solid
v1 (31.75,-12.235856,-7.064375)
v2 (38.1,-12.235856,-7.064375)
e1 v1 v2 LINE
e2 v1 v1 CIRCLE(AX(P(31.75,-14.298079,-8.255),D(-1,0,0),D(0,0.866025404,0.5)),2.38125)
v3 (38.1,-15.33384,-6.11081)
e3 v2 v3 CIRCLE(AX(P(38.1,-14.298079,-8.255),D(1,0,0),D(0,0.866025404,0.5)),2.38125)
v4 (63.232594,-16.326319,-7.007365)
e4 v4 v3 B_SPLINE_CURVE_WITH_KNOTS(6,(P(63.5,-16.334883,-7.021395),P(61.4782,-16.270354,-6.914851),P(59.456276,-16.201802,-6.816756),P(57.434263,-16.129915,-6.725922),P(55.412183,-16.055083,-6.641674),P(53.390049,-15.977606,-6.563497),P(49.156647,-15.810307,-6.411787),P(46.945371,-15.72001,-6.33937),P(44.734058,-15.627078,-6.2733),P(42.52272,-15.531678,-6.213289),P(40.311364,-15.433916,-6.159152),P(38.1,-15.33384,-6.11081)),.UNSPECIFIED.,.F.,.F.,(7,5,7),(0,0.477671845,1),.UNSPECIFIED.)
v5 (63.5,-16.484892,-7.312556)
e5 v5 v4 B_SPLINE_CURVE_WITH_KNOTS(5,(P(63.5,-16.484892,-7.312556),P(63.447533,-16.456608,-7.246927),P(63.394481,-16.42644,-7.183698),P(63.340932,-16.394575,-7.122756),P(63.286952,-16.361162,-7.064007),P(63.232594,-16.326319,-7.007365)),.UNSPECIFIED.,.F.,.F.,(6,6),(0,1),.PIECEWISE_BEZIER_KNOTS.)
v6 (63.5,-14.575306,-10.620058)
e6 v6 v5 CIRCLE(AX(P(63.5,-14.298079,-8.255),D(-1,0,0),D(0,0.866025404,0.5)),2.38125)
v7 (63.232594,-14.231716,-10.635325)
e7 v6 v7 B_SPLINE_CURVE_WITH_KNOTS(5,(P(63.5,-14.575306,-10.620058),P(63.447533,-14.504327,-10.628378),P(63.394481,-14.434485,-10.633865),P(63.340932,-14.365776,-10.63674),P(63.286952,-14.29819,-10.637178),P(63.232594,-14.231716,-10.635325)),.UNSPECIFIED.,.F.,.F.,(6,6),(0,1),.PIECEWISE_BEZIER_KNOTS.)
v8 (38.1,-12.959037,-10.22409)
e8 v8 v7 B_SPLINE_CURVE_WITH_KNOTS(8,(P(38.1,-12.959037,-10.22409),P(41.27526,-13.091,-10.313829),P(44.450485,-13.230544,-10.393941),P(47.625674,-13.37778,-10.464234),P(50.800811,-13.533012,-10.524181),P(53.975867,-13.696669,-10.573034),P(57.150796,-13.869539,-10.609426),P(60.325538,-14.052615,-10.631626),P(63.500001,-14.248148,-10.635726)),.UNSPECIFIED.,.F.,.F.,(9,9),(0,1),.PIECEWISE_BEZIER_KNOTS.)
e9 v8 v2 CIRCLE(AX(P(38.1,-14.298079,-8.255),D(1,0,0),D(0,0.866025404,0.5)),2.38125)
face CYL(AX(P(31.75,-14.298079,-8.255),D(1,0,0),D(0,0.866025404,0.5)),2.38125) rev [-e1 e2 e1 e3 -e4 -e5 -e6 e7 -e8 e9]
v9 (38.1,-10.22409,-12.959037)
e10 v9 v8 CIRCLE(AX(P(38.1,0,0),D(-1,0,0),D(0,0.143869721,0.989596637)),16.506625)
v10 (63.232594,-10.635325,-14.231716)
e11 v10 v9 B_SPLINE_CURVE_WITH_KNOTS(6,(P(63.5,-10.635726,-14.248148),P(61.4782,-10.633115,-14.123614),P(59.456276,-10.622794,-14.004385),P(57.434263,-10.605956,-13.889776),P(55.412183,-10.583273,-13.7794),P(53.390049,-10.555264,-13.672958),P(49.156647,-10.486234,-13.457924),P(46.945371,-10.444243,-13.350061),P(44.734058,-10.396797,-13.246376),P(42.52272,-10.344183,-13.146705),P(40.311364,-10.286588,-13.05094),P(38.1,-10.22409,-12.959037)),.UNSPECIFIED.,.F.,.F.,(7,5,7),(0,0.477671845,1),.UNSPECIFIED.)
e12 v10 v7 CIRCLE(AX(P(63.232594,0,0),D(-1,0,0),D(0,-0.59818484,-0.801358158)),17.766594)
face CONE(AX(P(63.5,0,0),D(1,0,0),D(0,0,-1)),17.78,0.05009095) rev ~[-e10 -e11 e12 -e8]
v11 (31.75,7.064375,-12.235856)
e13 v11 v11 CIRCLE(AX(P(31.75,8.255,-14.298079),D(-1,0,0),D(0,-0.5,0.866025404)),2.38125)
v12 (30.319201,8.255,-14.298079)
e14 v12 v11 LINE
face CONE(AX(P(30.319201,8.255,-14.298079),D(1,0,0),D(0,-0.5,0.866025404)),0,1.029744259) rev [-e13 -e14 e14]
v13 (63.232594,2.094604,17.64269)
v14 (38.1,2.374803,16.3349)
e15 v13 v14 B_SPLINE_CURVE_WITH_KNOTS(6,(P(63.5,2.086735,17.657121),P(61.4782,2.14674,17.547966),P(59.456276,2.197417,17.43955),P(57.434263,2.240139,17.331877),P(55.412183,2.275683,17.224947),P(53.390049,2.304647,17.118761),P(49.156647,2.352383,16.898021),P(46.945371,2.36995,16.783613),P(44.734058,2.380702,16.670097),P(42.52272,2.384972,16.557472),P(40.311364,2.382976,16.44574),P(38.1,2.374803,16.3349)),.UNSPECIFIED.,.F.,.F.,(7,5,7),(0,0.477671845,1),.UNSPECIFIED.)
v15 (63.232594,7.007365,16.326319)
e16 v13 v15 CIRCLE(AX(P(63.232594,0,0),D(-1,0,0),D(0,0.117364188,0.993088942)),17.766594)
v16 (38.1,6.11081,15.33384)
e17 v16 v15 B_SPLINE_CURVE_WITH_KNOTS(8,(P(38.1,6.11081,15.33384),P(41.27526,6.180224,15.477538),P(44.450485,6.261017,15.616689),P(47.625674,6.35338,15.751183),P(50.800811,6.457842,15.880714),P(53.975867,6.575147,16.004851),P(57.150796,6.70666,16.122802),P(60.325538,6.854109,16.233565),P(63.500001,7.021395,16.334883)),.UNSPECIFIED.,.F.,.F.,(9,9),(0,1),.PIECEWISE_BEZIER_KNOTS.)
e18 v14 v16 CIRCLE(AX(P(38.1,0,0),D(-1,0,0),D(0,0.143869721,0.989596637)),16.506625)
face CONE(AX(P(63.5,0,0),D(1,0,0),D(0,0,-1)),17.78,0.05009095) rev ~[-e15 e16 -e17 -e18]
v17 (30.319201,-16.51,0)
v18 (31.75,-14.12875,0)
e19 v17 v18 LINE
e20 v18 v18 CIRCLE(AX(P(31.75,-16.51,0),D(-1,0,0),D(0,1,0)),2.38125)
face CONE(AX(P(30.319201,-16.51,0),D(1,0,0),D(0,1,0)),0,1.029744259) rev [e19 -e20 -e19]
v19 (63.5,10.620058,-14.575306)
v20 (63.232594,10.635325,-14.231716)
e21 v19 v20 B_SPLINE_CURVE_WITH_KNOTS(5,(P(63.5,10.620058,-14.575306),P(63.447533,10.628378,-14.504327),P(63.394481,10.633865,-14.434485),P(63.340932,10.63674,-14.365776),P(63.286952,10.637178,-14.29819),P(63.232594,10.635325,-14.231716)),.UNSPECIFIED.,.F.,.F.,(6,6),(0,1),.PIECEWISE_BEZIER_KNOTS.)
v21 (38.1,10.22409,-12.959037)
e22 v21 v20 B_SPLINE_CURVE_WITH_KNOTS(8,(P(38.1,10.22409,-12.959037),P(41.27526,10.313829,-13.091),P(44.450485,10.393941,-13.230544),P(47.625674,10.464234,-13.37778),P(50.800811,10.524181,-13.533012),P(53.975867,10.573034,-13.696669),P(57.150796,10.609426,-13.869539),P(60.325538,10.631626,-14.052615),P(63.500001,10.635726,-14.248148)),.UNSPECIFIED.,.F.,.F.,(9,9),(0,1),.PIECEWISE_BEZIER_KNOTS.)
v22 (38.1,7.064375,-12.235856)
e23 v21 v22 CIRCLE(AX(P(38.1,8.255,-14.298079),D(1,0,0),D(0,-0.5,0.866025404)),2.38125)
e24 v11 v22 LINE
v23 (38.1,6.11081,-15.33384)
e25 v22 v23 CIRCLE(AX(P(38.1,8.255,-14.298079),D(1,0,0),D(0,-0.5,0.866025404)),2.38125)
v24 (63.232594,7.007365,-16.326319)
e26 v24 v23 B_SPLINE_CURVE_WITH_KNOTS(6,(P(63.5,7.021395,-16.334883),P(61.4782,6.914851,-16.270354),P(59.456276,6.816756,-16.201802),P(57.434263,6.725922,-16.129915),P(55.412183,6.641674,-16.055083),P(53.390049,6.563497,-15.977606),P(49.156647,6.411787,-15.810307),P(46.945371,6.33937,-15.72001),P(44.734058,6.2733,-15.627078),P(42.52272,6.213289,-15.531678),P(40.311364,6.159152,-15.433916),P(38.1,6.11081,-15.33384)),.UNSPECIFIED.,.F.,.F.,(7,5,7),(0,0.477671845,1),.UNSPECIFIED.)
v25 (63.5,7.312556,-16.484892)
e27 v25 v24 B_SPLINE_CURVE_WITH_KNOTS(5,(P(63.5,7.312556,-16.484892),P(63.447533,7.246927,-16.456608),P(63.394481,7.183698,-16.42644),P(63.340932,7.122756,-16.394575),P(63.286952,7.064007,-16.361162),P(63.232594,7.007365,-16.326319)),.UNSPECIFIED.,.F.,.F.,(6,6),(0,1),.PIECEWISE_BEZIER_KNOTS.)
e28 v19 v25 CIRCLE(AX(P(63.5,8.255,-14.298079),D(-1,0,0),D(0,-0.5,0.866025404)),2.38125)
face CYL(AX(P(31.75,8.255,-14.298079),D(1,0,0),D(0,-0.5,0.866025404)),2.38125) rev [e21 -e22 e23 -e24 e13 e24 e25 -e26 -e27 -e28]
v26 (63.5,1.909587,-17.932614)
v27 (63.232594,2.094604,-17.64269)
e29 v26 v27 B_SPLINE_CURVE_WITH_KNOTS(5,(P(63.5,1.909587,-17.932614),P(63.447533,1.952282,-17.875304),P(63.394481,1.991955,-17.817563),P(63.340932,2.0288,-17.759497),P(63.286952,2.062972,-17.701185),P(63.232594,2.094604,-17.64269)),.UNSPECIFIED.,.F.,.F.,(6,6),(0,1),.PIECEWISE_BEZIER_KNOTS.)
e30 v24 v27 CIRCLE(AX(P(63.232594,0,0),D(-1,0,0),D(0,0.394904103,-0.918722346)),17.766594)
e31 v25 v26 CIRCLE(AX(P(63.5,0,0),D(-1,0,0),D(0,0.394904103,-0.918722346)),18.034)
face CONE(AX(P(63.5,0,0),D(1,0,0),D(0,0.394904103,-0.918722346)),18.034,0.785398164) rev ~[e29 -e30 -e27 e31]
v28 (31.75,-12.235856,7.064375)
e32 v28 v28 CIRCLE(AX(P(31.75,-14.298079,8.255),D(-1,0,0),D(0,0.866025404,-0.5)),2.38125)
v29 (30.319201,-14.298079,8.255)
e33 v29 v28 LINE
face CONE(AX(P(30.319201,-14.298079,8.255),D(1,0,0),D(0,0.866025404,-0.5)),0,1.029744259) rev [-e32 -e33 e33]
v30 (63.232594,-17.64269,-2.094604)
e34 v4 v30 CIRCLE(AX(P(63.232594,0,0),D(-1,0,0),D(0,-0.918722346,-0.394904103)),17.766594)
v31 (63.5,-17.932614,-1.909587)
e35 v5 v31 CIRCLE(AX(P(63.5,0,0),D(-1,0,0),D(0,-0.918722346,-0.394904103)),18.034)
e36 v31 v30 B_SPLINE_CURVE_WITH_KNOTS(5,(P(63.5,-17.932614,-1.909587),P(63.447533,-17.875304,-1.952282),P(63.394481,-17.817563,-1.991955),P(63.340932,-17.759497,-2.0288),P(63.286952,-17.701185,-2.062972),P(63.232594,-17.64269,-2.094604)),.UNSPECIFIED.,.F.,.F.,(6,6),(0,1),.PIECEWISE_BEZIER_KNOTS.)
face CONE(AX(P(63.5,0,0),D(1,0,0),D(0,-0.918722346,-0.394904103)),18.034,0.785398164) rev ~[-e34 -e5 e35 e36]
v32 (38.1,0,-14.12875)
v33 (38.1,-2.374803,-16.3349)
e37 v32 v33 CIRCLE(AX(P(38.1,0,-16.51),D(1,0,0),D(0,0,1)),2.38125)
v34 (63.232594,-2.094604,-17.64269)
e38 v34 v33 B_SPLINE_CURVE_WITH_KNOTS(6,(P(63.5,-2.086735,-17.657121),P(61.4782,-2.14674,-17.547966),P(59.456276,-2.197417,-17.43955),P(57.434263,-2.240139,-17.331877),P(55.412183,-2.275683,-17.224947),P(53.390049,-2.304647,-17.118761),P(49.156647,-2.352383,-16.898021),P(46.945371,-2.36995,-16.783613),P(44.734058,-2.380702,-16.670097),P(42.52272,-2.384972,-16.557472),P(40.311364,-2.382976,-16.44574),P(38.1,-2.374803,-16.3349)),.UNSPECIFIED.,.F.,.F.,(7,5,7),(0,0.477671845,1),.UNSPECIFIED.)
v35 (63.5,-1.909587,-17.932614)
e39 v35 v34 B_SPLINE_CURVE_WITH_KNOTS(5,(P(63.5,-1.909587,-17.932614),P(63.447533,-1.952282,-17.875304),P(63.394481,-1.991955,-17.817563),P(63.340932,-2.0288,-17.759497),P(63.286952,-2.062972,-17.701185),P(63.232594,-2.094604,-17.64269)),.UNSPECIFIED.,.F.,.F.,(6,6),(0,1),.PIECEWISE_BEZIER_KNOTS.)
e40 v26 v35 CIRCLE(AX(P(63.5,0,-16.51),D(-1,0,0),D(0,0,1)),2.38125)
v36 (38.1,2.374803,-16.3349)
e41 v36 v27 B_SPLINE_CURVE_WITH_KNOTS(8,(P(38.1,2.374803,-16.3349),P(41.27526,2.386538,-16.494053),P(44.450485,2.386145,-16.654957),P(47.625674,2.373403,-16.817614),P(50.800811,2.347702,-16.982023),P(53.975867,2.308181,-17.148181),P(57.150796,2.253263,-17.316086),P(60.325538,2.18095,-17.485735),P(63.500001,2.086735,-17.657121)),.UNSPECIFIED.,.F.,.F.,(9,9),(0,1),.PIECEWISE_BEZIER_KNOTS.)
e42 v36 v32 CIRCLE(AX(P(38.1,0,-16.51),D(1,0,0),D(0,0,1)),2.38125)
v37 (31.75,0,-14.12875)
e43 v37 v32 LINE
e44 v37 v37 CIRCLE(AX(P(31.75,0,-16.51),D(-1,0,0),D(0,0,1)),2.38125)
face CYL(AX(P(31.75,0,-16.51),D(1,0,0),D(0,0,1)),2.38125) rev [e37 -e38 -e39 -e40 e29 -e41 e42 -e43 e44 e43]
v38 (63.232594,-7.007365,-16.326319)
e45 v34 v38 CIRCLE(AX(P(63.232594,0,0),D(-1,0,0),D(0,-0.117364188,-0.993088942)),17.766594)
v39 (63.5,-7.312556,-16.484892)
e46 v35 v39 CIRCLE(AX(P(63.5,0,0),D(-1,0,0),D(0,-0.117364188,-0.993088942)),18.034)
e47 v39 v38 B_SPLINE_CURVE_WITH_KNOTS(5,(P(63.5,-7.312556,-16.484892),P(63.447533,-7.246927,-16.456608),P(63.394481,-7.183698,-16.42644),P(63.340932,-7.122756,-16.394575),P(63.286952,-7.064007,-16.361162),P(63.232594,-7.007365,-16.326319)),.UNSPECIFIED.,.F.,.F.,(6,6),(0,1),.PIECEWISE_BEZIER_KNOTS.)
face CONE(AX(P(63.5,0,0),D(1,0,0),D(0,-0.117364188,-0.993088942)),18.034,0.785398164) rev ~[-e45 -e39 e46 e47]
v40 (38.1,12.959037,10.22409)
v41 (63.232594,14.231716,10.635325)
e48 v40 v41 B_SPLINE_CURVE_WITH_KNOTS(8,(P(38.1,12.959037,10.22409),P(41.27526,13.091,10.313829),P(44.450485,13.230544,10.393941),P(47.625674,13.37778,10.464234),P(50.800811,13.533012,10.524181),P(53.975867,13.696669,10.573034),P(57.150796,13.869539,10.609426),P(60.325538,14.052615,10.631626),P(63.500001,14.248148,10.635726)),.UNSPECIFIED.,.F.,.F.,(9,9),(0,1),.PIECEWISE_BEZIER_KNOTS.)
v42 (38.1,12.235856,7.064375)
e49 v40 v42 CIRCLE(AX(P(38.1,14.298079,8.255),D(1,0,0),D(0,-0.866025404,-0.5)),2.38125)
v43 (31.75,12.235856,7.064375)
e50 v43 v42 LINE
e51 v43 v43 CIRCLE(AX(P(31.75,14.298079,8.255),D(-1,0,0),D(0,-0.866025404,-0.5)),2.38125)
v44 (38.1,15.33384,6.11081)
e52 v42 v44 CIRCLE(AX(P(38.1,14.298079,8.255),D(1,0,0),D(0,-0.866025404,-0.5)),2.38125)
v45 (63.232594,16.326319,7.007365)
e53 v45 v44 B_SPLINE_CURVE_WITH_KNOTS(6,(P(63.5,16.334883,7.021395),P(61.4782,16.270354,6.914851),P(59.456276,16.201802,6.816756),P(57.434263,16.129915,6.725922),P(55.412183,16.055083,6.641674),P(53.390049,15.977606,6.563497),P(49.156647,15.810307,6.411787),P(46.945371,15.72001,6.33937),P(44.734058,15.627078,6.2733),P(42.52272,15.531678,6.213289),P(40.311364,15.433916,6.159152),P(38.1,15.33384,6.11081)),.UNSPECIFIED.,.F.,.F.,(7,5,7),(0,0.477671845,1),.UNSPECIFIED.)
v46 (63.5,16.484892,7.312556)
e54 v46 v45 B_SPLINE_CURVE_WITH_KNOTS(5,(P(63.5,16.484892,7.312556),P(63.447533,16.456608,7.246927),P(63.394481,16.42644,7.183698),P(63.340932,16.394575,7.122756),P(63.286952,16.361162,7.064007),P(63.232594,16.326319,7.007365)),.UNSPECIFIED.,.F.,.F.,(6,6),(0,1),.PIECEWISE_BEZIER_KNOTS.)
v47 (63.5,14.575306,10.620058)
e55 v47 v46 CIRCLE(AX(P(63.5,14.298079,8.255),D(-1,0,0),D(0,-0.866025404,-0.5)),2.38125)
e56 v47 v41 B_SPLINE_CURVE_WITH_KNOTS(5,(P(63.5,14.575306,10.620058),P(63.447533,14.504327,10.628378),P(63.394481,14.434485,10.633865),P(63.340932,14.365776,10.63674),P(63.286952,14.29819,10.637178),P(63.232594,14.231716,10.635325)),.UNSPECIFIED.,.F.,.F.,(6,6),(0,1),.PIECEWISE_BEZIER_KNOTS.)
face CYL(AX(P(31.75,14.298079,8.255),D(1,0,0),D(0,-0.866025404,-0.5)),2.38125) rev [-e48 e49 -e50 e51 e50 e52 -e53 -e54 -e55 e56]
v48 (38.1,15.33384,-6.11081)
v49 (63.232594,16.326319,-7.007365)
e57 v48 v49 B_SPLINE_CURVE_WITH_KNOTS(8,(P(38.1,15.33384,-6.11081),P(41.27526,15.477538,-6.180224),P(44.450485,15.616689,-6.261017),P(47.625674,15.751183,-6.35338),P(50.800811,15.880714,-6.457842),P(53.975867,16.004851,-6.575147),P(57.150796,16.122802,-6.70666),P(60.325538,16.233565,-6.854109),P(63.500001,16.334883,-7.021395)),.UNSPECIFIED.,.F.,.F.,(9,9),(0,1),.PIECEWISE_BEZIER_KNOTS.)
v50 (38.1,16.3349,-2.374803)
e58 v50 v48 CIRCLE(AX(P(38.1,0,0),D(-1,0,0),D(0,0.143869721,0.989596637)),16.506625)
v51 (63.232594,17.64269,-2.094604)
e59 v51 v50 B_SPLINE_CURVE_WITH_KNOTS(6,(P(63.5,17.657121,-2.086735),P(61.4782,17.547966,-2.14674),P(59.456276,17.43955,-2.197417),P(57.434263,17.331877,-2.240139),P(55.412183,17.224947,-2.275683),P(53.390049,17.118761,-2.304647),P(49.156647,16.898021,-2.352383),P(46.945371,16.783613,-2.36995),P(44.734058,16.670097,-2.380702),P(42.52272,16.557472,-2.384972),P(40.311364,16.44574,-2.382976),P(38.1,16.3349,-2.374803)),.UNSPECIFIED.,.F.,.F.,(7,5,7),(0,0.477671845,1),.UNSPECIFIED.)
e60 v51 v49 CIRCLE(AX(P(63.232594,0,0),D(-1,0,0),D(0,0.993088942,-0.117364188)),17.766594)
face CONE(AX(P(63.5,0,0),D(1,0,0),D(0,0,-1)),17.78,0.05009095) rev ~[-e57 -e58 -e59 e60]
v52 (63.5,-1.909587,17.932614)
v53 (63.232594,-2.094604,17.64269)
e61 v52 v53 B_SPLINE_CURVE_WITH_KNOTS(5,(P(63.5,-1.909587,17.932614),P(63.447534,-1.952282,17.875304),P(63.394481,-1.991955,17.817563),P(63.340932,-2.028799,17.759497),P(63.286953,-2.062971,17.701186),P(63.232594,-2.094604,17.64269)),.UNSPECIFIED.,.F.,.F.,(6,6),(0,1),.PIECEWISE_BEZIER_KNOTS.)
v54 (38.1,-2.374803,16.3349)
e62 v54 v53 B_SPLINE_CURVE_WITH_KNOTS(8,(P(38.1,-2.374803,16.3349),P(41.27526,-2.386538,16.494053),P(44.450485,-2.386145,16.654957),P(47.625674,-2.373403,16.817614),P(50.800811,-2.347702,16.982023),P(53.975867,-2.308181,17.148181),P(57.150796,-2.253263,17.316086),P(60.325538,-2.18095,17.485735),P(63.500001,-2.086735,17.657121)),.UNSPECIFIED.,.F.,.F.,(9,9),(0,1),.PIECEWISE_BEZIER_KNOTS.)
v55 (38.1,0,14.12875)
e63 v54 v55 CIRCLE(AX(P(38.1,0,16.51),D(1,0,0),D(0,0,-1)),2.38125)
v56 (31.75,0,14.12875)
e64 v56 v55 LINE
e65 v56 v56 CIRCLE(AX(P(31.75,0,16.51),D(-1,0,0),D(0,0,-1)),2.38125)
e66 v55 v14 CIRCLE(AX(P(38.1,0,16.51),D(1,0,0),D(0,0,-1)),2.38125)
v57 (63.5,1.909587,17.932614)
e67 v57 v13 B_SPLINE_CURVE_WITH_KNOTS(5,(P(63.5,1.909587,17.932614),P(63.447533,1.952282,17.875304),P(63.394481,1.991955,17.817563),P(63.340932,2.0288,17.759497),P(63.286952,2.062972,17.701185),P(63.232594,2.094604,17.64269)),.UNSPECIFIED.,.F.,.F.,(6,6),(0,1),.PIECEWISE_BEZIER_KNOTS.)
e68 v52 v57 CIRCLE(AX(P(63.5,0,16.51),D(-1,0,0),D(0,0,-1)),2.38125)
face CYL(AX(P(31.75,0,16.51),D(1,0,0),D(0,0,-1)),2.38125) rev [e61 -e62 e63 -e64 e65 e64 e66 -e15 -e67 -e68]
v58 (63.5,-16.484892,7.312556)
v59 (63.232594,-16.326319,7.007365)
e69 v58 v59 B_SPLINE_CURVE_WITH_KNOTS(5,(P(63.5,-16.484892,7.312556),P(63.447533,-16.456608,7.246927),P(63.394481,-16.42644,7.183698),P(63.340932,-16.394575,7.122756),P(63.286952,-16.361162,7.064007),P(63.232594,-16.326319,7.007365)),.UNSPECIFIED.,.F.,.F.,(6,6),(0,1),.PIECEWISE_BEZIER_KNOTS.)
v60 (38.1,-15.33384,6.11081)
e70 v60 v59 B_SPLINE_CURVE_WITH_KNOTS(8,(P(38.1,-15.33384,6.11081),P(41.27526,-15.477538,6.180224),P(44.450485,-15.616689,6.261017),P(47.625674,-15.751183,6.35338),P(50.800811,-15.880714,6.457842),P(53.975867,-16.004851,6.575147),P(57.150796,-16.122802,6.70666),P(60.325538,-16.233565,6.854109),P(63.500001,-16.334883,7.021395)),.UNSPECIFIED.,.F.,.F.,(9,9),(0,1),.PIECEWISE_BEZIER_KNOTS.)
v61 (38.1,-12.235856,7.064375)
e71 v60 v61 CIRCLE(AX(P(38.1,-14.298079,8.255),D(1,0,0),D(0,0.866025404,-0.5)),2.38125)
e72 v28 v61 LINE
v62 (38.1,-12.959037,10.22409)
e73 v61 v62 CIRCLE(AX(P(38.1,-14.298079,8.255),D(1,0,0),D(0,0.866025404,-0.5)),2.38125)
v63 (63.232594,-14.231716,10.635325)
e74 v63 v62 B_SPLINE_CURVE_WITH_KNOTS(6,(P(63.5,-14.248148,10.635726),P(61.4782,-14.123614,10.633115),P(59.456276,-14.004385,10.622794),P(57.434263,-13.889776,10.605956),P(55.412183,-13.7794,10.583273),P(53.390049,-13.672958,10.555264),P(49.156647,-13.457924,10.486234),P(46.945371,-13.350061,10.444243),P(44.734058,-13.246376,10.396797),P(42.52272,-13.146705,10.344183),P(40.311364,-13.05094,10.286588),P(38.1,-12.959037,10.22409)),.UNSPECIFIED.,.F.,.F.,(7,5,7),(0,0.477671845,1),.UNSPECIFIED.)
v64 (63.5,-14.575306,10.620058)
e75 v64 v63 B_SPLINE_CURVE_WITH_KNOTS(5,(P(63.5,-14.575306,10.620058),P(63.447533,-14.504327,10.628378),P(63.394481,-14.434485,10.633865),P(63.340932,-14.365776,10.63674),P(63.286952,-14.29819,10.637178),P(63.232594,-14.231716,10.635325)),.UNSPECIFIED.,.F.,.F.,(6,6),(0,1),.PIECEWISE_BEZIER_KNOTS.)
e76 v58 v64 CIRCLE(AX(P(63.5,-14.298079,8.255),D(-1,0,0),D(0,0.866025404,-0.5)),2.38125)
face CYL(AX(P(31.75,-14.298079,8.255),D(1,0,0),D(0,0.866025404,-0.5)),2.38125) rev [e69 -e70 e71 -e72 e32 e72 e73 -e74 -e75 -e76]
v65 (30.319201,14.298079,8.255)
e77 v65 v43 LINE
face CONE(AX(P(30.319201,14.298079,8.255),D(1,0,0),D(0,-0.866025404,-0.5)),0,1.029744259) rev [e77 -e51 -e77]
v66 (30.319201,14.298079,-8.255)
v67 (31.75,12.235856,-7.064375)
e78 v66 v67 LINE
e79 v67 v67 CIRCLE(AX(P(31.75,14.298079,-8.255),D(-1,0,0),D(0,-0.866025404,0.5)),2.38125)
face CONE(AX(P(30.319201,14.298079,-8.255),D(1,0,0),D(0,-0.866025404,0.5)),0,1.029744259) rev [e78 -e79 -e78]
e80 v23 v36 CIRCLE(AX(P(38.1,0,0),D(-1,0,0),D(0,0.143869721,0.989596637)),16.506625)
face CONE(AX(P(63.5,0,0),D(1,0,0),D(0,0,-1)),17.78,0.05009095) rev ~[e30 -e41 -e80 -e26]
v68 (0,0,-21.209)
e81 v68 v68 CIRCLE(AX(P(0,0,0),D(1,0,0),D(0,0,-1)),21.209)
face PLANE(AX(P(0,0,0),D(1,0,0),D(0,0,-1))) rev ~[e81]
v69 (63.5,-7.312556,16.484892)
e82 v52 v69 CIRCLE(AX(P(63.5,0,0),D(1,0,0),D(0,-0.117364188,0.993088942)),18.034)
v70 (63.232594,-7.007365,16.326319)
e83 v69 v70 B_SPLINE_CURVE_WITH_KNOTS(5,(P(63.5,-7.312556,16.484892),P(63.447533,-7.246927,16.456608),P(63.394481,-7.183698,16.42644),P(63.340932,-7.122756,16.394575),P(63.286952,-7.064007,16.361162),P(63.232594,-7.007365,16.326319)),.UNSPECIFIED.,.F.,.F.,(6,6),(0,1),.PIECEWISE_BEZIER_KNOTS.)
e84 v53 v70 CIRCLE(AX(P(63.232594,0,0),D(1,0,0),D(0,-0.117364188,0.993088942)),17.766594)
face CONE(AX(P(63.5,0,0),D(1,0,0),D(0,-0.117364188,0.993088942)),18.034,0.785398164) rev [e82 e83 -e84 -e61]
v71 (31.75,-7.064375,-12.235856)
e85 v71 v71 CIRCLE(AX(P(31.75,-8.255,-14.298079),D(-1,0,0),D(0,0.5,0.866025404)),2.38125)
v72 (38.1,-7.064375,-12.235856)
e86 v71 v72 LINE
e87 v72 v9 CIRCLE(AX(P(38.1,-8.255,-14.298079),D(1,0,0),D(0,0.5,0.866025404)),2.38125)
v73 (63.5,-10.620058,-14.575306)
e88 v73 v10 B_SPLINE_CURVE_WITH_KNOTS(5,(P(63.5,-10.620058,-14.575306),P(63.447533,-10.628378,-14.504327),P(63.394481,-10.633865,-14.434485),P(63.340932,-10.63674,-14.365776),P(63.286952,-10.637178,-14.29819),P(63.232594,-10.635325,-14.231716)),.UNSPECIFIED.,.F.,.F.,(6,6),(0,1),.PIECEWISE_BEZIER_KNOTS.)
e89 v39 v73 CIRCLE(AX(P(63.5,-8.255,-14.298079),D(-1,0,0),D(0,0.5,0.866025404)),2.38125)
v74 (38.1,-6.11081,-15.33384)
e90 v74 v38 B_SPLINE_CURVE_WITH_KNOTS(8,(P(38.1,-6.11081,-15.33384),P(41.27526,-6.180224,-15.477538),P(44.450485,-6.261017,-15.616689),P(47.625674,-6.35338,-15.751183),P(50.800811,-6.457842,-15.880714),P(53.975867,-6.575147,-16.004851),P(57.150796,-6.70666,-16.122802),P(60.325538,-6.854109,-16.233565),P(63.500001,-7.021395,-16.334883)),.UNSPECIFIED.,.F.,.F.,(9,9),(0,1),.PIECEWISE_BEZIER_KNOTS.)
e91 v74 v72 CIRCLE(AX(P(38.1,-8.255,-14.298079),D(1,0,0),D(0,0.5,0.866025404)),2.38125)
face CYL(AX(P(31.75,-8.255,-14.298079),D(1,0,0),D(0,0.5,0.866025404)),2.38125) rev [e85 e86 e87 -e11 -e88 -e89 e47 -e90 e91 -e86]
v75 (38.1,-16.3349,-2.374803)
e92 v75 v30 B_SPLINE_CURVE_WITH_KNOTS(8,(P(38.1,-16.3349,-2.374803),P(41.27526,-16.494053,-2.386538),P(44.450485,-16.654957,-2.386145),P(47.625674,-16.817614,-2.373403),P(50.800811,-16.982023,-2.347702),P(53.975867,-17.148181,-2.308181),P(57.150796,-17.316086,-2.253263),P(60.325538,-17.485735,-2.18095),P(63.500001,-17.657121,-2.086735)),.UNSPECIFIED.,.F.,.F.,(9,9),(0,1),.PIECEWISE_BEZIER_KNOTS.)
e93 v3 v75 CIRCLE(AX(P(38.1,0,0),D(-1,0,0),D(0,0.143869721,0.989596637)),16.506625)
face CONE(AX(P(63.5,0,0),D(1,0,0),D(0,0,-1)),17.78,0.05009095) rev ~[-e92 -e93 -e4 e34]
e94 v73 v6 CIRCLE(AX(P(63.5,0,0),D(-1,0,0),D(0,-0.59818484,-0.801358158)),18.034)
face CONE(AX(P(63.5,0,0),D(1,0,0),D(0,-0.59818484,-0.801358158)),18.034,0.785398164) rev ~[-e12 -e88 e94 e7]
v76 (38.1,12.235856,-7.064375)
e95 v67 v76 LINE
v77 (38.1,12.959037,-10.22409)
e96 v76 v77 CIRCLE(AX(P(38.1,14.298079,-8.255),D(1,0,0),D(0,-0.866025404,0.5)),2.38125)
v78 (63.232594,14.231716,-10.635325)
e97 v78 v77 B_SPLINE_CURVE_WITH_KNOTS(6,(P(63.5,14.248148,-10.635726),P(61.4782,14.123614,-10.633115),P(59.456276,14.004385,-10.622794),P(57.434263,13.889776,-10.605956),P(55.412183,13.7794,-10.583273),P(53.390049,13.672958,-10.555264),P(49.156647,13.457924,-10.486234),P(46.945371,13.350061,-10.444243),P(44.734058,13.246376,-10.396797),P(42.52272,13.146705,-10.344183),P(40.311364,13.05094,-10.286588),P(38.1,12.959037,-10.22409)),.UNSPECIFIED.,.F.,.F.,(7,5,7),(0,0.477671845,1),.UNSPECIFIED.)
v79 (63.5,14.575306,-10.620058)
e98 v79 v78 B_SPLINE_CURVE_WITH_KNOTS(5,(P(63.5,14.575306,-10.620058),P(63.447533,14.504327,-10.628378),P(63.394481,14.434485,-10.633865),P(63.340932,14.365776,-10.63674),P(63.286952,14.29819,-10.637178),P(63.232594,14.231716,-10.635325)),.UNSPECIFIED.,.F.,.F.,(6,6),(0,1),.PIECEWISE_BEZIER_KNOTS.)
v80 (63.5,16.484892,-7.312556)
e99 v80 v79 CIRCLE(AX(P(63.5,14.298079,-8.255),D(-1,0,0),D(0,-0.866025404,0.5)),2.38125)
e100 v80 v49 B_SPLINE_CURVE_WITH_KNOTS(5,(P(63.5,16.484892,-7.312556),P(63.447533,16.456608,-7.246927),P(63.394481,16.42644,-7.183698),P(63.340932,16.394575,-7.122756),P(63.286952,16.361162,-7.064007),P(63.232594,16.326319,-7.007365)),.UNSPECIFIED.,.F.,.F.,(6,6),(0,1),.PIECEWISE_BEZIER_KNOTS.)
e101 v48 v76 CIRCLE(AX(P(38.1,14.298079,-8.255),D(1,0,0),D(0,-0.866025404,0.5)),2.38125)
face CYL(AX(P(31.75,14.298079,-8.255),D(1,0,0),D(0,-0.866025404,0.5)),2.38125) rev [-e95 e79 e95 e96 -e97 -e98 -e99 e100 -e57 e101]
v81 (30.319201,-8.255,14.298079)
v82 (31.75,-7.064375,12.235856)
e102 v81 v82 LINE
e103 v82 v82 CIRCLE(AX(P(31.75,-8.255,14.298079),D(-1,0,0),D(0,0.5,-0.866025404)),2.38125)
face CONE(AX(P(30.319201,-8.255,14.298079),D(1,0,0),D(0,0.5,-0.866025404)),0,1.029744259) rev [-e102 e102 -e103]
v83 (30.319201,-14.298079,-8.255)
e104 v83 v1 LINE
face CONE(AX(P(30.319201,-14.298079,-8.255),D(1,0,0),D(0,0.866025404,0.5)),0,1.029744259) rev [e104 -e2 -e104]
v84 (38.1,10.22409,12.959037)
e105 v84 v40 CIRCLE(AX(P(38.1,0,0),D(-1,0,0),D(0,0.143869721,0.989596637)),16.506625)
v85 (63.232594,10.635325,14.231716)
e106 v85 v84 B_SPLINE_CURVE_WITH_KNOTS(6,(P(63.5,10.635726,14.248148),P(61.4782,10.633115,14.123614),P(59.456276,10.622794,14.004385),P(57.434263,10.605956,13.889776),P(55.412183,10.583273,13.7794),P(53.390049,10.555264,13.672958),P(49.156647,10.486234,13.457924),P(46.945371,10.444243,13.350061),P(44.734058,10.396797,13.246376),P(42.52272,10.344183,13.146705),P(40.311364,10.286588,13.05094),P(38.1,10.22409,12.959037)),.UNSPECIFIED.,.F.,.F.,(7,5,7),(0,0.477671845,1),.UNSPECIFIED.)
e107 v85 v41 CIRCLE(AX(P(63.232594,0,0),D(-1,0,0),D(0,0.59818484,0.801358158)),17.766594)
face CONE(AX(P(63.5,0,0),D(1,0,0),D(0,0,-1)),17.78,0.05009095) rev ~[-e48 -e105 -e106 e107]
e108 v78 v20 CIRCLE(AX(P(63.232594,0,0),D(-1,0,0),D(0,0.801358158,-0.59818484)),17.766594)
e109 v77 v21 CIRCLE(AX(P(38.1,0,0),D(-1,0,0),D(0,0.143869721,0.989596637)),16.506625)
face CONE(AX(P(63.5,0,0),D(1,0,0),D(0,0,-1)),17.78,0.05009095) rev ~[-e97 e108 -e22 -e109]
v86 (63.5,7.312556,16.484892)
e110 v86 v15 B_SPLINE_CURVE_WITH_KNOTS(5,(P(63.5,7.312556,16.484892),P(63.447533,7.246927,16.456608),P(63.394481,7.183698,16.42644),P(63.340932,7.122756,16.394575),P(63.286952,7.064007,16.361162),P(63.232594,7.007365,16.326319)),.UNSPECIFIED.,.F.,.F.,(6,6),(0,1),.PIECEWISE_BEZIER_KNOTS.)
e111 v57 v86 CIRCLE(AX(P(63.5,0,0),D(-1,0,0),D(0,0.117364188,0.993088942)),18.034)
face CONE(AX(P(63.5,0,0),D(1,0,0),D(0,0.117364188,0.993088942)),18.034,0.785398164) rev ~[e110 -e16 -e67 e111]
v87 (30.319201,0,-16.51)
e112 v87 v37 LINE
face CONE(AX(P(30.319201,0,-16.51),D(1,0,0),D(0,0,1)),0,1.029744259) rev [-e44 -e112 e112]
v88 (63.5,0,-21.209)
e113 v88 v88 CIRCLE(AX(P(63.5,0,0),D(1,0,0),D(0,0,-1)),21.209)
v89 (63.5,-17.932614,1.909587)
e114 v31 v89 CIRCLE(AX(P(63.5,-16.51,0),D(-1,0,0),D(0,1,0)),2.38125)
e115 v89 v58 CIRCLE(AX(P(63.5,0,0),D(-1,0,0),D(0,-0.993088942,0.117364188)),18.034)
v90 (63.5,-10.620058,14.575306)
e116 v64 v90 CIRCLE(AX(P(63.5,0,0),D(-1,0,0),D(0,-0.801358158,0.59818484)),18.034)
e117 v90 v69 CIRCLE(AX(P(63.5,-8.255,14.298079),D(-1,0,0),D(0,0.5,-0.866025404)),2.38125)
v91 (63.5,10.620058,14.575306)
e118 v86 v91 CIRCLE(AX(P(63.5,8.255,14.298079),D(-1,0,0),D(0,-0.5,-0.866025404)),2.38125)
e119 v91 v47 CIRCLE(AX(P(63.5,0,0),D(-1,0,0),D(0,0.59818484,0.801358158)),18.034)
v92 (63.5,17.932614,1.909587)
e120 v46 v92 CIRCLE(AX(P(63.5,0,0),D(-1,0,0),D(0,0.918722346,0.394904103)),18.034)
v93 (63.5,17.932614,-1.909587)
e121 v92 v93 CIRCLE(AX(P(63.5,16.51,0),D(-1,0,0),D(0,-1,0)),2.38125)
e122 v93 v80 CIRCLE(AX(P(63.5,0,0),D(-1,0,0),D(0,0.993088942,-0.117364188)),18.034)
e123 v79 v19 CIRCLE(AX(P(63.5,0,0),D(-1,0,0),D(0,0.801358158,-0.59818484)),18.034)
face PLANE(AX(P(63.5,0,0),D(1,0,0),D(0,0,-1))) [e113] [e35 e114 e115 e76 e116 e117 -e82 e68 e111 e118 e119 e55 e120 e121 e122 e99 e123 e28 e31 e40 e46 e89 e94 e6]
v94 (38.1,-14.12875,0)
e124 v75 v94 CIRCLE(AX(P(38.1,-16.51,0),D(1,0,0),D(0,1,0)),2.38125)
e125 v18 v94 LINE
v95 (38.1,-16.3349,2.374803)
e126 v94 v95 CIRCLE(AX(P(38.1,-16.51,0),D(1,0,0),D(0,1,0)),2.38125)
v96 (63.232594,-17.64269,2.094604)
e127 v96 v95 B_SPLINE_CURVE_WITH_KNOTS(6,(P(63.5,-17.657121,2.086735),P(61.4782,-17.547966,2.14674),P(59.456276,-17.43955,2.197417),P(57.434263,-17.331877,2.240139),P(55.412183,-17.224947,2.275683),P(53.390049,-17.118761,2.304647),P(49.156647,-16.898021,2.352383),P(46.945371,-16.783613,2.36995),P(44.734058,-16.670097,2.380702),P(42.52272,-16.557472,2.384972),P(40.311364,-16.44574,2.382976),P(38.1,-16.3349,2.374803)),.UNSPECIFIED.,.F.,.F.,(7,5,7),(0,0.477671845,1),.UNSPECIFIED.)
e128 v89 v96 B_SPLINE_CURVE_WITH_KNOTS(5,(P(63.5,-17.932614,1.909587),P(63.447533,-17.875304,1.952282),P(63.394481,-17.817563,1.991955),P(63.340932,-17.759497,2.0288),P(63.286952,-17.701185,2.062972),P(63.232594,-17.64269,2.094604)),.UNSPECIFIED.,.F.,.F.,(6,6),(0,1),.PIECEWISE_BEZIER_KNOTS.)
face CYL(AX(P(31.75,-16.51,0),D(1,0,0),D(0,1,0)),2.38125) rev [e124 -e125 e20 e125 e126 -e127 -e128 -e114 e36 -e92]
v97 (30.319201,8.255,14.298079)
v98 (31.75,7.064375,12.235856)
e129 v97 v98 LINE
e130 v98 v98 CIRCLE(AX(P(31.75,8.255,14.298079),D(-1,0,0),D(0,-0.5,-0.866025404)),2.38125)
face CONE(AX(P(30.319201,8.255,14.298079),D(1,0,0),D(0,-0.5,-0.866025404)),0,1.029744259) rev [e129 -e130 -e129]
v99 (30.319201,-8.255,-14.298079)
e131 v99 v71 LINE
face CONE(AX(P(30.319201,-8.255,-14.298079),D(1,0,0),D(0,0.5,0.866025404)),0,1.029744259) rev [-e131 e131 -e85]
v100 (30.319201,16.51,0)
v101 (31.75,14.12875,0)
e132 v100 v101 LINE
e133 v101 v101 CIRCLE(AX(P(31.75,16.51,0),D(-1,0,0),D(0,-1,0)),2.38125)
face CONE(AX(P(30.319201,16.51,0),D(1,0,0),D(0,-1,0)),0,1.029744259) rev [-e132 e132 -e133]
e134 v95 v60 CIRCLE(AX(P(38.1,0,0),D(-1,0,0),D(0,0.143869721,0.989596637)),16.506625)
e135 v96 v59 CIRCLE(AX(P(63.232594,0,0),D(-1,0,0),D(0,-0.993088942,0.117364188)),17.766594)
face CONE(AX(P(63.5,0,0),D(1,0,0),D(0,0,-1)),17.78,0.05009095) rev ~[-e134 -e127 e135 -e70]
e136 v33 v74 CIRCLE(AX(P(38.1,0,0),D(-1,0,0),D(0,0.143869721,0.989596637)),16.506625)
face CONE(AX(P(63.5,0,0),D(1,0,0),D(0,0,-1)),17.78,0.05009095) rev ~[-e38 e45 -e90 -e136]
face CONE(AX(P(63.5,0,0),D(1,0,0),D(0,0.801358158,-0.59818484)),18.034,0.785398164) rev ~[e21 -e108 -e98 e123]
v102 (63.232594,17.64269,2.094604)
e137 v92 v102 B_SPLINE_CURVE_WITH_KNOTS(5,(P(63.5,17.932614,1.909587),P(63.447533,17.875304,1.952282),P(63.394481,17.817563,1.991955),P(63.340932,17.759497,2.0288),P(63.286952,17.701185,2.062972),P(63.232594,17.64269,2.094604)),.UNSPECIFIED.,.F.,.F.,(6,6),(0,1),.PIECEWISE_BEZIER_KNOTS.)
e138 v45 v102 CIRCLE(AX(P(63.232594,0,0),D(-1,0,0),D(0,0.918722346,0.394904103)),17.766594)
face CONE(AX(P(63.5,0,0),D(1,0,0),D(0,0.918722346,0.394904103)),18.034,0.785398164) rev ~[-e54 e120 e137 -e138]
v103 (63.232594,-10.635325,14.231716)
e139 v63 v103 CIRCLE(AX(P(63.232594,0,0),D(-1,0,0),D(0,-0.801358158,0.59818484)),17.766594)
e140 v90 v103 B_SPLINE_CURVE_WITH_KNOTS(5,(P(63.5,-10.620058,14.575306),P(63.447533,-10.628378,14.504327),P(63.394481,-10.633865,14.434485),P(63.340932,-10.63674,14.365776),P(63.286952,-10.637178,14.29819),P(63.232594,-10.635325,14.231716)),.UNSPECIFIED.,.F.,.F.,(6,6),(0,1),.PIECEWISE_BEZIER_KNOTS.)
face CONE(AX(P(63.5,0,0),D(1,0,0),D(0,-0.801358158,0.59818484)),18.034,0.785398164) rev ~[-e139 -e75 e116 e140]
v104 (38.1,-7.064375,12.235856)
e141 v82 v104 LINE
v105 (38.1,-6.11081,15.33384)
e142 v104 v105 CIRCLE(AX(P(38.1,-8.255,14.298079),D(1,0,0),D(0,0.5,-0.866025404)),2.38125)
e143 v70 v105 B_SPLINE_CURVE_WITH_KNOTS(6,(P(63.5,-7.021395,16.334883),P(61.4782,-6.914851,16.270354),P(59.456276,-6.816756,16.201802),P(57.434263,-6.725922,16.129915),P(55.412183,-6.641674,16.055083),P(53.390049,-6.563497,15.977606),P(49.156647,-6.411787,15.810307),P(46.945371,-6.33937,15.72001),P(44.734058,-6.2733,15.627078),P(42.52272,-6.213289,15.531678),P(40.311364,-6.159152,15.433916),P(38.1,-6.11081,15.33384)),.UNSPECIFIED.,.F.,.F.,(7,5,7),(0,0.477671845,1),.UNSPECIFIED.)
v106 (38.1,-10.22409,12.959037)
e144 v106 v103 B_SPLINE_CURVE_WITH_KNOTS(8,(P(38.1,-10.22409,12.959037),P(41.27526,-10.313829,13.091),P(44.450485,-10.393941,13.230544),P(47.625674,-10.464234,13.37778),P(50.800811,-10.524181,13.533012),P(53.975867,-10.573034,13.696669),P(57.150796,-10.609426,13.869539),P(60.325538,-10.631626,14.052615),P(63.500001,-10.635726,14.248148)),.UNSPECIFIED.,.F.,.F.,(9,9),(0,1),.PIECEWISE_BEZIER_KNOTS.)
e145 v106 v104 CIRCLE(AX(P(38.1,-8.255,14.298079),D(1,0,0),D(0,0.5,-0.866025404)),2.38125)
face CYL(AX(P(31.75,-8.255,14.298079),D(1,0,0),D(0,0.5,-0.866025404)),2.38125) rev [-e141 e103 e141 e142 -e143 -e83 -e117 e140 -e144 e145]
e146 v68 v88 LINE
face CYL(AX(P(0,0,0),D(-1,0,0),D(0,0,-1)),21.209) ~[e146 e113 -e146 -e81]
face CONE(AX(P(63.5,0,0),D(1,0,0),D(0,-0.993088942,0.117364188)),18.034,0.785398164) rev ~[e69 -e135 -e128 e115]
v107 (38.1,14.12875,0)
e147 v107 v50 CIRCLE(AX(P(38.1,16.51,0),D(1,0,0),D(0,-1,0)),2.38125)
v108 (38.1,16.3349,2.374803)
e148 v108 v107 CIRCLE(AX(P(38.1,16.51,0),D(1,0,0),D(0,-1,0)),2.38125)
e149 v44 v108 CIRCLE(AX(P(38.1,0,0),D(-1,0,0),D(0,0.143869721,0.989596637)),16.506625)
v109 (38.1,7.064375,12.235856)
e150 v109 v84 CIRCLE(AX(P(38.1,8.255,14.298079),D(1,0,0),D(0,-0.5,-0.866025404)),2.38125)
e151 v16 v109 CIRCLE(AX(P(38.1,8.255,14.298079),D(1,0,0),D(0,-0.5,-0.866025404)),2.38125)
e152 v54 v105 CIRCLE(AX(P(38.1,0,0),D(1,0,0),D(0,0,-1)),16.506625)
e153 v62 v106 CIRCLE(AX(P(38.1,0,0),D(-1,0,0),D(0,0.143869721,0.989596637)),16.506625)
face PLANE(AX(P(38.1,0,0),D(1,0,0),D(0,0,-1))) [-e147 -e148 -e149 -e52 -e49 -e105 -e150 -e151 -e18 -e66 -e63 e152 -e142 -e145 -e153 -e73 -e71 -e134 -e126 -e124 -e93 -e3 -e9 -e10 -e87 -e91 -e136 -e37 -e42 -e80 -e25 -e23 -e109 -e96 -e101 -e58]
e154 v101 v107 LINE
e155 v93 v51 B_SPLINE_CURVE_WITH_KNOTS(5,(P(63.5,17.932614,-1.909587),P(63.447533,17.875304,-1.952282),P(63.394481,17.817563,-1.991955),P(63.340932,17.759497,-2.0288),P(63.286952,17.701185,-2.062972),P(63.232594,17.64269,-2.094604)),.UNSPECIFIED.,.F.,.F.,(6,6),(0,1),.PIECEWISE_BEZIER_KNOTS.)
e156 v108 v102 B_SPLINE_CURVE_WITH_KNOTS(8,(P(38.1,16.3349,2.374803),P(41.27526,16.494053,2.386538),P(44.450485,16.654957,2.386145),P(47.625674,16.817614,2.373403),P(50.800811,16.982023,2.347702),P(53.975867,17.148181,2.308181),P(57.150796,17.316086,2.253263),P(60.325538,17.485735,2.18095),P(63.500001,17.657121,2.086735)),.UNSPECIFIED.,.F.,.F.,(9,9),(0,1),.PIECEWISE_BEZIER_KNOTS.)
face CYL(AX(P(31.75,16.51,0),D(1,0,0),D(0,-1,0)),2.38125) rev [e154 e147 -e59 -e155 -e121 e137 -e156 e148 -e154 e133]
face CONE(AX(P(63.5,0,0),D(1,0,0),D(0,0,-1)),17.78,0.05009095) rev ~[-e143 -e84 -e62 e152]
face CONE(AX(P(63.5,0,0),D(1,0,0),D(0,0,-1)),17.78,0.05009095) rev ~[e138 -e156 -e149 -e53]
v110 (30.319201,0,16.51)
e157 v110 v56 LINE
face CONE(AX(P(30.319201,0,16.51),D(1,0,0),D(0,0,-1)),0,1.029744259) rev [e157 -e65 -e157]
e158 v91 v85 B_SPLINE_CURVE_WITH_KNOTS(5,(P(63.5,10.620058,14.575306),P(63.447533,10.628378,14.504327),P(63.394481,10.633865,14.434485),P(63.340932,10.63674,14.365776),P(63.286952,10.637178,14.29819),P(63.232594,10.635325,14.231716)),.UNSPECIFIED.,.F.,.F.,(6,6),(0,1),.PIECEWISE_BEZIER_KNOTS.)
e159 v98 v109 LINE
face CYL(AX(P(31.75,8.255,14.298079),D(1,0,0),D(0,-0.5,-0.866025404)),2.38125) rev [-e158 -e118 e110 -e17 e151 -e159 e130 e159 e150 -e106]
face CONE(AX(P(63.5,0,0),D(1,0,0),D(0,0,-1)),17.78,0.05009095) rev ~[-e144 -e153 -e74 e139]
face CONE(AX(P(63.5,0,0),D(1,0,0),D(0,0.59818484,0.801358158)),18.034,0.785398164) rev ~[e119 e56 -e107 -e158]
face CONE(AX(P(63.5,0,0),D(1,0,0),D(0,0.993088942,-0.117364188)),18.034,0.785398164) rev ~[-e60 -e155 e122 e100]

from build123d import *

# Parameters (mm, degrees)
SKETCH1_R              = 21.209
EXTRUDE1_DEPTH         = 63.5
SKETCH2_R              = 17.78
EXTRUDE2_DEPTH         = 25.4
EXTRUDE2_DRAFT         = -2.87
CIRPATTERN1_COUNT      = 12
CHAMFER2_SIZE          = 0.254
CHAMFER2_SIZE2         = 0.267741651
CHAMFER2_EDGE_2_SIZE   = 0.254
CHAMFER2_EDGE_2_SIZE2  = 0.267741651
CHAMFER2_EDGE_3_SIZE   = 0.254
CHAMFER2_EDGE_3_SIZE2  = 0.267741651
CHAMFER2_EDGE_4_SIZE   = 0.254
CHAMFER2_EDGE_4_SIZE2  = 0.267741651
CHAMFER2_EDGE_5_SIZE   = 0.254
CHAMFER2_EDGE_5_SIZE2  = 0.267741651
CHAMFER2_EDGE_6_SIZE   = 0.254
CHAMFER2_EDGE_6_SIZE2  = 0.267741651
CHAMFER2_EDGE_7_SIZE   = 0.254
CHAMFER2_EDGE_7_SIZE2  = 0.267741651
CHAMFER2_EDGE_8_SIZE   = 0.254
CHAMFER2_EDGE_8_SIZE2  = 0.267741651
CHAMFER2_EDGE_9_SIZE   = 0.254
CHAMFER2_EDGE_9_SIZE2  = 0.267741651
CHAMFER2_EDGE_10_SIZE  = 0.254
CHAMFER2_EDGE_10_SIZE2 = 0.267741651
CHAMFER2_EDGE_11_SIZE  = 0.254
CHAMFER2_EDGE_11_SIZE2 = 0.267741651
CHAMFER2_EDGE_12_SIZE  = 0.254
CHAMFER2_EDGE_12_SIZE2 = 0.267741651


with BuildPart() as part:
    # Sketch1 → Extrude1 (new body)
    with BuildSketch(Plane(origin=(0, 0, 0), x_dir=(0, 0, -1), z_dir=(1, 0, 0))):
        Circle(SKETCH1_R)
    extrude(amount=EXTRUDE1_DEPTH)


with BuildPart() as extrude2_tool:
    # Sketch2 → Extrude2 (with draft: the straight prism first)
    with BuildSketch(Plane(origin=(63.5, 0, 0), x_dir=(0, 0, -1), z_dir=(1, 0, 0))):
        Circle(SKETCH2_R)
    extrude(amount=-EXTRUDE2_DEPTH)
    # Extrude2: the draft: its side faces are tilted about the plane it starts from
    extrude2_sides = [extrude2_tool.faces().sort_by_distance(p)[0] for p in [
        (50.8, 0, 17.78),
    ]]
    draft(extrude2_sides, Plane(origin=(63.5, 0, 0), x_dir=(0, 0, -1), z_dir=(1, 0, 0)), EXTRUDE2_DRAFT)


with BuildPart() as part_1:
    add(part.part)

    # Extrude2: cut by extrude2_tool
    add(extrude2_tool.part, mode=Mode.SUBTRACT)

    # Sketch4 → 3/16 (0.1875) Diameter Hole1 (revolve, cut)
    with BuildSketch(Plane(origin=(63.5, 0, 16.51), x_dir=(0, 0, -1), z_dir=(0, 1, 0))):
        Polygon((0, 0), (0, 33.180799349), (2.38125, 31.75), (2.38125, 0), align=None)
    f_3_16_0_1875_diameter_hole1 = revolve(axis=Axis((69.85, 0, 16.51), (-1, 0, 0)), mode=Mode.SUBTRACT)

    # CirPattern1: 3/16 (0.1875) Diameter Hole1 ×12 about axis
    cirpattern1_axis = Axis((0, 0, 0), (1, 0, 0))
    for i in range(1, CIRPATTERN1_COUNT):
        add(f_3_16_0_1875_diameter_hole1.rotate(cirpattern1_axis, i * 360 / CIRPATTERN1_COUNT), mode=Mode.SUBTRACT)

    # Chamfer2
    chamfer2_edges = [part_1.edges().sort_by_distance(p)[0] for p in [
        (63.5, 17.174161191, -4.601802622),
    ]]
    chamfer2_side = [part_1.faces().sort_by_distance(p)[0] for p in [
        (63.5, 0, 20.609118891),
    ]]
    chamfer(chamfer2_edges, length=CHAMFER2_SIZE, length2=CHAMFER2_SIZE2, reference=chamfer2_side[0])

    # Chamfer2 edge 2
    chamfer2_edge_2_edges = [part_1.edges().sort_by_distance(p)[0] for p in [
        (63.5, 12.572358569, -12.572358569),
    ]]
    chamfer2_edge_2_side = [part_1.faces().sort_by_distance(p)[0] for p in [
        (63.5, 0, 20.609118891),
    ]]
    chamfer(chamfer2_edge_2_edges, length=CHAMFER2_EDGE_2_SIZE, length2=CHAMFER2_EDGE_2_SIZE2, reference=chamfer2_edge_2_side[0])

    # Chamfer2 edge 3
    chamfer2_edge_3_edges = [part_1.edges().sort_by_distance(p)[0] for p in [
        (63.5, 4.601802622, -17.174161191),
    ]]
    chamfer2_edge_3_side = [part_1.faces().sort_by_distance(p)[0] for p in [
        (63.5, 0, 20.609118891),
    ]]
    chamfer(chamfer2_edge_3_edges, length=CHAMFER2_EDGE_3_SIZE, length2=CHAMFER2_EDGE_3_SIZE2, reference=chamfer2_edge_3_side[0])

    # Chamfer2 edge 4
    chamfer2_edge_4_edges = [part_1.edges().sort_by_distance(p)[0] for p in [
        (63.5, -4.601802622, -17.174161191),
    ]]
    chamfer2_edge_4_side = [part_1.faces().sort_by_distance(p)[0] for p in [
        (63.5, 0, 20.609118891),
    ]]
    chamfer(chamfer2_edge_4_edges, length=CHAMFER2_EDGE_4_SIZE, length2=CHAMFER2_EDGE_4_SIZE2, reference=chamfer2_edge_4_side[0])

    # Chamfer2 edge 5
    chamfer2_edge_5_edges = [part_1.edges().sort_by_distance(p)[0] for p in [
        (63.5, -12.572358569, -12.572358569),
    ]]
    chamfer2_edge_5_side = [part_1.faces().sort_by_distance(p)[0] for p in [
        (63.5, 0, 20.609118891),
    ]]
    chamfer(chamfer2_edge_5_edges, length=CHAMFER2_EDGE_5_SIZE, length2=CHAMFER2_EDGE_5_SIZE2, reference=chamfer2_edge_5_side[0])

    # Chamfer2 edge 6
    chamfer2_edge_6_edges = [part_1.edges().sort_by_distance(p)[0] for p in [
        (63.5, -17.174161191, -4.601802622),
    ]]
    chamfer2_edge_6_side = [part_1.faces().sort_by_distance(p)[0] for p in [
        (63.5, 0, 20.609118891),
    ]]
    chamfer(chamfer2_edge_6_edges, length=CHAMFER2_EDGE_6_SIZE, length2=CHAMFER2_EDGE_6_SIZE2, reference=chamfer2_edge_6_side[0])

    # Chamfer2 edge 7
    chamfer2_edge_7_edges = [part_1.edges().sort_by_distance(p)[0] for p in [
        (63.5, -17.174161191, 4.601802622),
    ]]
    chamfer2_edge_7_side = [part_1.faces().sort_by_distance(p)[0] for p in [
        (63.5, 0, 20.609118891),
    ]]
    chamfer(chamfer2_edge_7_edges, length=CHAMFER2_EDGE_7_SIZE, length2=CHAMFER2_EDGE_7_SIZE2, reference=chamfer2_edge_7_side[0])

    # Chamfer2 edge 8
    chamfer2_edge_8_edges = [part_1.edges().sort_by_distance(p)[0] for p in [
        (63.5, -12.572358569, 12.572358569),
    ]]
    chamfer2_edge_8_side = [part_1.faces().sort_by_distance(p)[0] for p in [
        (63.5, 0, 20.609118891),
    ]]
    chamfer(chamfer2_edge_8_edges, length=CHAMFER2_EDGE_8_SIZE, length2=CHAMFER2_EDGE_8_SIZE2, reference=chamfer2_edge_8_side[0])

    # Chamfer2 edge 9
    chamfer2_edge_9_edges = [part_1.edges().sort_by_distance(p)[0] for p in [
        (63.5, -4.601802622, 17.174161191),
    ]]
    chamfer2_edge_9_side = [part_1.faces().sort_by_distance(p)[0] for p in [
        (63.5, 0, 20.609118891),
    ]]
    chamfer(chamfer2_edge_9_edges, length=CHAMFER2_EDGE_9_SIZE, length2=CHAMFER2_EDGE_9_SIZE2, reference=chamfer2_edge_9_side[0])

    # Chamfer2 edge 10
    chamfer2_edge_10_edges = [part_1.edges().sort_by_distance(p)[0] for p in [
        (63.5, 4.601802622, 17.174161191),
    ]]
    chamfer2_edge_10_side = [part_1.faces().sort_by_distance(p)[0] for p in [
        (63.5, 0, 20.609118891),
    ]]
    chamfer(chamfer2_edge_10_edges, length=CHAMFER2_EDGE_10_SIZE, length2=CHAMFER2_EDGE_10_SIZE2, reference=chamfer2_edge_10_side[0])

    # Chamfer2 edge 11
    chamfer2_edge_11_edges = [part_1.edges().sort_by_distance(p)[0] for p in [
        (63.5, 12.572358569, 12.572358569),
    ]]
    chamfer2_edge_11_side = [part_1.faces().sort_by_distance(p)[0] for p in [
        (63.5, 0, 20.609118891),
    ]]
    chamfer(chamfer2_edge_11_edges, length=CHAMFER2_EDGE_11_SIZE, length2=CHAMFER2_EDGE_11_SIZE2, reference=chamfer2_edge_11_side[0])

    # Chamfer2 edge 12
    chamfer2_edge_12_edges = [part_1.edges().sort_by_distance(p)[0] for p in [
        (63.5, 17.174161191, 4.601802622),
    ]]
    chamfer2_edge_12_side = [part_1.faces().sort_by_distance(p)[0] for p in [
        (63.5, 0, 20.609118891),
    ]]
    chamfer(chamfer2_edge_12_edges, length=CHAMFER2_EDGE_12_SIZE, length2=CHAMFER2_EDGE_12_SIZE2, reference=chamfer2_edge_12_side[0])


solid = part_1.part
